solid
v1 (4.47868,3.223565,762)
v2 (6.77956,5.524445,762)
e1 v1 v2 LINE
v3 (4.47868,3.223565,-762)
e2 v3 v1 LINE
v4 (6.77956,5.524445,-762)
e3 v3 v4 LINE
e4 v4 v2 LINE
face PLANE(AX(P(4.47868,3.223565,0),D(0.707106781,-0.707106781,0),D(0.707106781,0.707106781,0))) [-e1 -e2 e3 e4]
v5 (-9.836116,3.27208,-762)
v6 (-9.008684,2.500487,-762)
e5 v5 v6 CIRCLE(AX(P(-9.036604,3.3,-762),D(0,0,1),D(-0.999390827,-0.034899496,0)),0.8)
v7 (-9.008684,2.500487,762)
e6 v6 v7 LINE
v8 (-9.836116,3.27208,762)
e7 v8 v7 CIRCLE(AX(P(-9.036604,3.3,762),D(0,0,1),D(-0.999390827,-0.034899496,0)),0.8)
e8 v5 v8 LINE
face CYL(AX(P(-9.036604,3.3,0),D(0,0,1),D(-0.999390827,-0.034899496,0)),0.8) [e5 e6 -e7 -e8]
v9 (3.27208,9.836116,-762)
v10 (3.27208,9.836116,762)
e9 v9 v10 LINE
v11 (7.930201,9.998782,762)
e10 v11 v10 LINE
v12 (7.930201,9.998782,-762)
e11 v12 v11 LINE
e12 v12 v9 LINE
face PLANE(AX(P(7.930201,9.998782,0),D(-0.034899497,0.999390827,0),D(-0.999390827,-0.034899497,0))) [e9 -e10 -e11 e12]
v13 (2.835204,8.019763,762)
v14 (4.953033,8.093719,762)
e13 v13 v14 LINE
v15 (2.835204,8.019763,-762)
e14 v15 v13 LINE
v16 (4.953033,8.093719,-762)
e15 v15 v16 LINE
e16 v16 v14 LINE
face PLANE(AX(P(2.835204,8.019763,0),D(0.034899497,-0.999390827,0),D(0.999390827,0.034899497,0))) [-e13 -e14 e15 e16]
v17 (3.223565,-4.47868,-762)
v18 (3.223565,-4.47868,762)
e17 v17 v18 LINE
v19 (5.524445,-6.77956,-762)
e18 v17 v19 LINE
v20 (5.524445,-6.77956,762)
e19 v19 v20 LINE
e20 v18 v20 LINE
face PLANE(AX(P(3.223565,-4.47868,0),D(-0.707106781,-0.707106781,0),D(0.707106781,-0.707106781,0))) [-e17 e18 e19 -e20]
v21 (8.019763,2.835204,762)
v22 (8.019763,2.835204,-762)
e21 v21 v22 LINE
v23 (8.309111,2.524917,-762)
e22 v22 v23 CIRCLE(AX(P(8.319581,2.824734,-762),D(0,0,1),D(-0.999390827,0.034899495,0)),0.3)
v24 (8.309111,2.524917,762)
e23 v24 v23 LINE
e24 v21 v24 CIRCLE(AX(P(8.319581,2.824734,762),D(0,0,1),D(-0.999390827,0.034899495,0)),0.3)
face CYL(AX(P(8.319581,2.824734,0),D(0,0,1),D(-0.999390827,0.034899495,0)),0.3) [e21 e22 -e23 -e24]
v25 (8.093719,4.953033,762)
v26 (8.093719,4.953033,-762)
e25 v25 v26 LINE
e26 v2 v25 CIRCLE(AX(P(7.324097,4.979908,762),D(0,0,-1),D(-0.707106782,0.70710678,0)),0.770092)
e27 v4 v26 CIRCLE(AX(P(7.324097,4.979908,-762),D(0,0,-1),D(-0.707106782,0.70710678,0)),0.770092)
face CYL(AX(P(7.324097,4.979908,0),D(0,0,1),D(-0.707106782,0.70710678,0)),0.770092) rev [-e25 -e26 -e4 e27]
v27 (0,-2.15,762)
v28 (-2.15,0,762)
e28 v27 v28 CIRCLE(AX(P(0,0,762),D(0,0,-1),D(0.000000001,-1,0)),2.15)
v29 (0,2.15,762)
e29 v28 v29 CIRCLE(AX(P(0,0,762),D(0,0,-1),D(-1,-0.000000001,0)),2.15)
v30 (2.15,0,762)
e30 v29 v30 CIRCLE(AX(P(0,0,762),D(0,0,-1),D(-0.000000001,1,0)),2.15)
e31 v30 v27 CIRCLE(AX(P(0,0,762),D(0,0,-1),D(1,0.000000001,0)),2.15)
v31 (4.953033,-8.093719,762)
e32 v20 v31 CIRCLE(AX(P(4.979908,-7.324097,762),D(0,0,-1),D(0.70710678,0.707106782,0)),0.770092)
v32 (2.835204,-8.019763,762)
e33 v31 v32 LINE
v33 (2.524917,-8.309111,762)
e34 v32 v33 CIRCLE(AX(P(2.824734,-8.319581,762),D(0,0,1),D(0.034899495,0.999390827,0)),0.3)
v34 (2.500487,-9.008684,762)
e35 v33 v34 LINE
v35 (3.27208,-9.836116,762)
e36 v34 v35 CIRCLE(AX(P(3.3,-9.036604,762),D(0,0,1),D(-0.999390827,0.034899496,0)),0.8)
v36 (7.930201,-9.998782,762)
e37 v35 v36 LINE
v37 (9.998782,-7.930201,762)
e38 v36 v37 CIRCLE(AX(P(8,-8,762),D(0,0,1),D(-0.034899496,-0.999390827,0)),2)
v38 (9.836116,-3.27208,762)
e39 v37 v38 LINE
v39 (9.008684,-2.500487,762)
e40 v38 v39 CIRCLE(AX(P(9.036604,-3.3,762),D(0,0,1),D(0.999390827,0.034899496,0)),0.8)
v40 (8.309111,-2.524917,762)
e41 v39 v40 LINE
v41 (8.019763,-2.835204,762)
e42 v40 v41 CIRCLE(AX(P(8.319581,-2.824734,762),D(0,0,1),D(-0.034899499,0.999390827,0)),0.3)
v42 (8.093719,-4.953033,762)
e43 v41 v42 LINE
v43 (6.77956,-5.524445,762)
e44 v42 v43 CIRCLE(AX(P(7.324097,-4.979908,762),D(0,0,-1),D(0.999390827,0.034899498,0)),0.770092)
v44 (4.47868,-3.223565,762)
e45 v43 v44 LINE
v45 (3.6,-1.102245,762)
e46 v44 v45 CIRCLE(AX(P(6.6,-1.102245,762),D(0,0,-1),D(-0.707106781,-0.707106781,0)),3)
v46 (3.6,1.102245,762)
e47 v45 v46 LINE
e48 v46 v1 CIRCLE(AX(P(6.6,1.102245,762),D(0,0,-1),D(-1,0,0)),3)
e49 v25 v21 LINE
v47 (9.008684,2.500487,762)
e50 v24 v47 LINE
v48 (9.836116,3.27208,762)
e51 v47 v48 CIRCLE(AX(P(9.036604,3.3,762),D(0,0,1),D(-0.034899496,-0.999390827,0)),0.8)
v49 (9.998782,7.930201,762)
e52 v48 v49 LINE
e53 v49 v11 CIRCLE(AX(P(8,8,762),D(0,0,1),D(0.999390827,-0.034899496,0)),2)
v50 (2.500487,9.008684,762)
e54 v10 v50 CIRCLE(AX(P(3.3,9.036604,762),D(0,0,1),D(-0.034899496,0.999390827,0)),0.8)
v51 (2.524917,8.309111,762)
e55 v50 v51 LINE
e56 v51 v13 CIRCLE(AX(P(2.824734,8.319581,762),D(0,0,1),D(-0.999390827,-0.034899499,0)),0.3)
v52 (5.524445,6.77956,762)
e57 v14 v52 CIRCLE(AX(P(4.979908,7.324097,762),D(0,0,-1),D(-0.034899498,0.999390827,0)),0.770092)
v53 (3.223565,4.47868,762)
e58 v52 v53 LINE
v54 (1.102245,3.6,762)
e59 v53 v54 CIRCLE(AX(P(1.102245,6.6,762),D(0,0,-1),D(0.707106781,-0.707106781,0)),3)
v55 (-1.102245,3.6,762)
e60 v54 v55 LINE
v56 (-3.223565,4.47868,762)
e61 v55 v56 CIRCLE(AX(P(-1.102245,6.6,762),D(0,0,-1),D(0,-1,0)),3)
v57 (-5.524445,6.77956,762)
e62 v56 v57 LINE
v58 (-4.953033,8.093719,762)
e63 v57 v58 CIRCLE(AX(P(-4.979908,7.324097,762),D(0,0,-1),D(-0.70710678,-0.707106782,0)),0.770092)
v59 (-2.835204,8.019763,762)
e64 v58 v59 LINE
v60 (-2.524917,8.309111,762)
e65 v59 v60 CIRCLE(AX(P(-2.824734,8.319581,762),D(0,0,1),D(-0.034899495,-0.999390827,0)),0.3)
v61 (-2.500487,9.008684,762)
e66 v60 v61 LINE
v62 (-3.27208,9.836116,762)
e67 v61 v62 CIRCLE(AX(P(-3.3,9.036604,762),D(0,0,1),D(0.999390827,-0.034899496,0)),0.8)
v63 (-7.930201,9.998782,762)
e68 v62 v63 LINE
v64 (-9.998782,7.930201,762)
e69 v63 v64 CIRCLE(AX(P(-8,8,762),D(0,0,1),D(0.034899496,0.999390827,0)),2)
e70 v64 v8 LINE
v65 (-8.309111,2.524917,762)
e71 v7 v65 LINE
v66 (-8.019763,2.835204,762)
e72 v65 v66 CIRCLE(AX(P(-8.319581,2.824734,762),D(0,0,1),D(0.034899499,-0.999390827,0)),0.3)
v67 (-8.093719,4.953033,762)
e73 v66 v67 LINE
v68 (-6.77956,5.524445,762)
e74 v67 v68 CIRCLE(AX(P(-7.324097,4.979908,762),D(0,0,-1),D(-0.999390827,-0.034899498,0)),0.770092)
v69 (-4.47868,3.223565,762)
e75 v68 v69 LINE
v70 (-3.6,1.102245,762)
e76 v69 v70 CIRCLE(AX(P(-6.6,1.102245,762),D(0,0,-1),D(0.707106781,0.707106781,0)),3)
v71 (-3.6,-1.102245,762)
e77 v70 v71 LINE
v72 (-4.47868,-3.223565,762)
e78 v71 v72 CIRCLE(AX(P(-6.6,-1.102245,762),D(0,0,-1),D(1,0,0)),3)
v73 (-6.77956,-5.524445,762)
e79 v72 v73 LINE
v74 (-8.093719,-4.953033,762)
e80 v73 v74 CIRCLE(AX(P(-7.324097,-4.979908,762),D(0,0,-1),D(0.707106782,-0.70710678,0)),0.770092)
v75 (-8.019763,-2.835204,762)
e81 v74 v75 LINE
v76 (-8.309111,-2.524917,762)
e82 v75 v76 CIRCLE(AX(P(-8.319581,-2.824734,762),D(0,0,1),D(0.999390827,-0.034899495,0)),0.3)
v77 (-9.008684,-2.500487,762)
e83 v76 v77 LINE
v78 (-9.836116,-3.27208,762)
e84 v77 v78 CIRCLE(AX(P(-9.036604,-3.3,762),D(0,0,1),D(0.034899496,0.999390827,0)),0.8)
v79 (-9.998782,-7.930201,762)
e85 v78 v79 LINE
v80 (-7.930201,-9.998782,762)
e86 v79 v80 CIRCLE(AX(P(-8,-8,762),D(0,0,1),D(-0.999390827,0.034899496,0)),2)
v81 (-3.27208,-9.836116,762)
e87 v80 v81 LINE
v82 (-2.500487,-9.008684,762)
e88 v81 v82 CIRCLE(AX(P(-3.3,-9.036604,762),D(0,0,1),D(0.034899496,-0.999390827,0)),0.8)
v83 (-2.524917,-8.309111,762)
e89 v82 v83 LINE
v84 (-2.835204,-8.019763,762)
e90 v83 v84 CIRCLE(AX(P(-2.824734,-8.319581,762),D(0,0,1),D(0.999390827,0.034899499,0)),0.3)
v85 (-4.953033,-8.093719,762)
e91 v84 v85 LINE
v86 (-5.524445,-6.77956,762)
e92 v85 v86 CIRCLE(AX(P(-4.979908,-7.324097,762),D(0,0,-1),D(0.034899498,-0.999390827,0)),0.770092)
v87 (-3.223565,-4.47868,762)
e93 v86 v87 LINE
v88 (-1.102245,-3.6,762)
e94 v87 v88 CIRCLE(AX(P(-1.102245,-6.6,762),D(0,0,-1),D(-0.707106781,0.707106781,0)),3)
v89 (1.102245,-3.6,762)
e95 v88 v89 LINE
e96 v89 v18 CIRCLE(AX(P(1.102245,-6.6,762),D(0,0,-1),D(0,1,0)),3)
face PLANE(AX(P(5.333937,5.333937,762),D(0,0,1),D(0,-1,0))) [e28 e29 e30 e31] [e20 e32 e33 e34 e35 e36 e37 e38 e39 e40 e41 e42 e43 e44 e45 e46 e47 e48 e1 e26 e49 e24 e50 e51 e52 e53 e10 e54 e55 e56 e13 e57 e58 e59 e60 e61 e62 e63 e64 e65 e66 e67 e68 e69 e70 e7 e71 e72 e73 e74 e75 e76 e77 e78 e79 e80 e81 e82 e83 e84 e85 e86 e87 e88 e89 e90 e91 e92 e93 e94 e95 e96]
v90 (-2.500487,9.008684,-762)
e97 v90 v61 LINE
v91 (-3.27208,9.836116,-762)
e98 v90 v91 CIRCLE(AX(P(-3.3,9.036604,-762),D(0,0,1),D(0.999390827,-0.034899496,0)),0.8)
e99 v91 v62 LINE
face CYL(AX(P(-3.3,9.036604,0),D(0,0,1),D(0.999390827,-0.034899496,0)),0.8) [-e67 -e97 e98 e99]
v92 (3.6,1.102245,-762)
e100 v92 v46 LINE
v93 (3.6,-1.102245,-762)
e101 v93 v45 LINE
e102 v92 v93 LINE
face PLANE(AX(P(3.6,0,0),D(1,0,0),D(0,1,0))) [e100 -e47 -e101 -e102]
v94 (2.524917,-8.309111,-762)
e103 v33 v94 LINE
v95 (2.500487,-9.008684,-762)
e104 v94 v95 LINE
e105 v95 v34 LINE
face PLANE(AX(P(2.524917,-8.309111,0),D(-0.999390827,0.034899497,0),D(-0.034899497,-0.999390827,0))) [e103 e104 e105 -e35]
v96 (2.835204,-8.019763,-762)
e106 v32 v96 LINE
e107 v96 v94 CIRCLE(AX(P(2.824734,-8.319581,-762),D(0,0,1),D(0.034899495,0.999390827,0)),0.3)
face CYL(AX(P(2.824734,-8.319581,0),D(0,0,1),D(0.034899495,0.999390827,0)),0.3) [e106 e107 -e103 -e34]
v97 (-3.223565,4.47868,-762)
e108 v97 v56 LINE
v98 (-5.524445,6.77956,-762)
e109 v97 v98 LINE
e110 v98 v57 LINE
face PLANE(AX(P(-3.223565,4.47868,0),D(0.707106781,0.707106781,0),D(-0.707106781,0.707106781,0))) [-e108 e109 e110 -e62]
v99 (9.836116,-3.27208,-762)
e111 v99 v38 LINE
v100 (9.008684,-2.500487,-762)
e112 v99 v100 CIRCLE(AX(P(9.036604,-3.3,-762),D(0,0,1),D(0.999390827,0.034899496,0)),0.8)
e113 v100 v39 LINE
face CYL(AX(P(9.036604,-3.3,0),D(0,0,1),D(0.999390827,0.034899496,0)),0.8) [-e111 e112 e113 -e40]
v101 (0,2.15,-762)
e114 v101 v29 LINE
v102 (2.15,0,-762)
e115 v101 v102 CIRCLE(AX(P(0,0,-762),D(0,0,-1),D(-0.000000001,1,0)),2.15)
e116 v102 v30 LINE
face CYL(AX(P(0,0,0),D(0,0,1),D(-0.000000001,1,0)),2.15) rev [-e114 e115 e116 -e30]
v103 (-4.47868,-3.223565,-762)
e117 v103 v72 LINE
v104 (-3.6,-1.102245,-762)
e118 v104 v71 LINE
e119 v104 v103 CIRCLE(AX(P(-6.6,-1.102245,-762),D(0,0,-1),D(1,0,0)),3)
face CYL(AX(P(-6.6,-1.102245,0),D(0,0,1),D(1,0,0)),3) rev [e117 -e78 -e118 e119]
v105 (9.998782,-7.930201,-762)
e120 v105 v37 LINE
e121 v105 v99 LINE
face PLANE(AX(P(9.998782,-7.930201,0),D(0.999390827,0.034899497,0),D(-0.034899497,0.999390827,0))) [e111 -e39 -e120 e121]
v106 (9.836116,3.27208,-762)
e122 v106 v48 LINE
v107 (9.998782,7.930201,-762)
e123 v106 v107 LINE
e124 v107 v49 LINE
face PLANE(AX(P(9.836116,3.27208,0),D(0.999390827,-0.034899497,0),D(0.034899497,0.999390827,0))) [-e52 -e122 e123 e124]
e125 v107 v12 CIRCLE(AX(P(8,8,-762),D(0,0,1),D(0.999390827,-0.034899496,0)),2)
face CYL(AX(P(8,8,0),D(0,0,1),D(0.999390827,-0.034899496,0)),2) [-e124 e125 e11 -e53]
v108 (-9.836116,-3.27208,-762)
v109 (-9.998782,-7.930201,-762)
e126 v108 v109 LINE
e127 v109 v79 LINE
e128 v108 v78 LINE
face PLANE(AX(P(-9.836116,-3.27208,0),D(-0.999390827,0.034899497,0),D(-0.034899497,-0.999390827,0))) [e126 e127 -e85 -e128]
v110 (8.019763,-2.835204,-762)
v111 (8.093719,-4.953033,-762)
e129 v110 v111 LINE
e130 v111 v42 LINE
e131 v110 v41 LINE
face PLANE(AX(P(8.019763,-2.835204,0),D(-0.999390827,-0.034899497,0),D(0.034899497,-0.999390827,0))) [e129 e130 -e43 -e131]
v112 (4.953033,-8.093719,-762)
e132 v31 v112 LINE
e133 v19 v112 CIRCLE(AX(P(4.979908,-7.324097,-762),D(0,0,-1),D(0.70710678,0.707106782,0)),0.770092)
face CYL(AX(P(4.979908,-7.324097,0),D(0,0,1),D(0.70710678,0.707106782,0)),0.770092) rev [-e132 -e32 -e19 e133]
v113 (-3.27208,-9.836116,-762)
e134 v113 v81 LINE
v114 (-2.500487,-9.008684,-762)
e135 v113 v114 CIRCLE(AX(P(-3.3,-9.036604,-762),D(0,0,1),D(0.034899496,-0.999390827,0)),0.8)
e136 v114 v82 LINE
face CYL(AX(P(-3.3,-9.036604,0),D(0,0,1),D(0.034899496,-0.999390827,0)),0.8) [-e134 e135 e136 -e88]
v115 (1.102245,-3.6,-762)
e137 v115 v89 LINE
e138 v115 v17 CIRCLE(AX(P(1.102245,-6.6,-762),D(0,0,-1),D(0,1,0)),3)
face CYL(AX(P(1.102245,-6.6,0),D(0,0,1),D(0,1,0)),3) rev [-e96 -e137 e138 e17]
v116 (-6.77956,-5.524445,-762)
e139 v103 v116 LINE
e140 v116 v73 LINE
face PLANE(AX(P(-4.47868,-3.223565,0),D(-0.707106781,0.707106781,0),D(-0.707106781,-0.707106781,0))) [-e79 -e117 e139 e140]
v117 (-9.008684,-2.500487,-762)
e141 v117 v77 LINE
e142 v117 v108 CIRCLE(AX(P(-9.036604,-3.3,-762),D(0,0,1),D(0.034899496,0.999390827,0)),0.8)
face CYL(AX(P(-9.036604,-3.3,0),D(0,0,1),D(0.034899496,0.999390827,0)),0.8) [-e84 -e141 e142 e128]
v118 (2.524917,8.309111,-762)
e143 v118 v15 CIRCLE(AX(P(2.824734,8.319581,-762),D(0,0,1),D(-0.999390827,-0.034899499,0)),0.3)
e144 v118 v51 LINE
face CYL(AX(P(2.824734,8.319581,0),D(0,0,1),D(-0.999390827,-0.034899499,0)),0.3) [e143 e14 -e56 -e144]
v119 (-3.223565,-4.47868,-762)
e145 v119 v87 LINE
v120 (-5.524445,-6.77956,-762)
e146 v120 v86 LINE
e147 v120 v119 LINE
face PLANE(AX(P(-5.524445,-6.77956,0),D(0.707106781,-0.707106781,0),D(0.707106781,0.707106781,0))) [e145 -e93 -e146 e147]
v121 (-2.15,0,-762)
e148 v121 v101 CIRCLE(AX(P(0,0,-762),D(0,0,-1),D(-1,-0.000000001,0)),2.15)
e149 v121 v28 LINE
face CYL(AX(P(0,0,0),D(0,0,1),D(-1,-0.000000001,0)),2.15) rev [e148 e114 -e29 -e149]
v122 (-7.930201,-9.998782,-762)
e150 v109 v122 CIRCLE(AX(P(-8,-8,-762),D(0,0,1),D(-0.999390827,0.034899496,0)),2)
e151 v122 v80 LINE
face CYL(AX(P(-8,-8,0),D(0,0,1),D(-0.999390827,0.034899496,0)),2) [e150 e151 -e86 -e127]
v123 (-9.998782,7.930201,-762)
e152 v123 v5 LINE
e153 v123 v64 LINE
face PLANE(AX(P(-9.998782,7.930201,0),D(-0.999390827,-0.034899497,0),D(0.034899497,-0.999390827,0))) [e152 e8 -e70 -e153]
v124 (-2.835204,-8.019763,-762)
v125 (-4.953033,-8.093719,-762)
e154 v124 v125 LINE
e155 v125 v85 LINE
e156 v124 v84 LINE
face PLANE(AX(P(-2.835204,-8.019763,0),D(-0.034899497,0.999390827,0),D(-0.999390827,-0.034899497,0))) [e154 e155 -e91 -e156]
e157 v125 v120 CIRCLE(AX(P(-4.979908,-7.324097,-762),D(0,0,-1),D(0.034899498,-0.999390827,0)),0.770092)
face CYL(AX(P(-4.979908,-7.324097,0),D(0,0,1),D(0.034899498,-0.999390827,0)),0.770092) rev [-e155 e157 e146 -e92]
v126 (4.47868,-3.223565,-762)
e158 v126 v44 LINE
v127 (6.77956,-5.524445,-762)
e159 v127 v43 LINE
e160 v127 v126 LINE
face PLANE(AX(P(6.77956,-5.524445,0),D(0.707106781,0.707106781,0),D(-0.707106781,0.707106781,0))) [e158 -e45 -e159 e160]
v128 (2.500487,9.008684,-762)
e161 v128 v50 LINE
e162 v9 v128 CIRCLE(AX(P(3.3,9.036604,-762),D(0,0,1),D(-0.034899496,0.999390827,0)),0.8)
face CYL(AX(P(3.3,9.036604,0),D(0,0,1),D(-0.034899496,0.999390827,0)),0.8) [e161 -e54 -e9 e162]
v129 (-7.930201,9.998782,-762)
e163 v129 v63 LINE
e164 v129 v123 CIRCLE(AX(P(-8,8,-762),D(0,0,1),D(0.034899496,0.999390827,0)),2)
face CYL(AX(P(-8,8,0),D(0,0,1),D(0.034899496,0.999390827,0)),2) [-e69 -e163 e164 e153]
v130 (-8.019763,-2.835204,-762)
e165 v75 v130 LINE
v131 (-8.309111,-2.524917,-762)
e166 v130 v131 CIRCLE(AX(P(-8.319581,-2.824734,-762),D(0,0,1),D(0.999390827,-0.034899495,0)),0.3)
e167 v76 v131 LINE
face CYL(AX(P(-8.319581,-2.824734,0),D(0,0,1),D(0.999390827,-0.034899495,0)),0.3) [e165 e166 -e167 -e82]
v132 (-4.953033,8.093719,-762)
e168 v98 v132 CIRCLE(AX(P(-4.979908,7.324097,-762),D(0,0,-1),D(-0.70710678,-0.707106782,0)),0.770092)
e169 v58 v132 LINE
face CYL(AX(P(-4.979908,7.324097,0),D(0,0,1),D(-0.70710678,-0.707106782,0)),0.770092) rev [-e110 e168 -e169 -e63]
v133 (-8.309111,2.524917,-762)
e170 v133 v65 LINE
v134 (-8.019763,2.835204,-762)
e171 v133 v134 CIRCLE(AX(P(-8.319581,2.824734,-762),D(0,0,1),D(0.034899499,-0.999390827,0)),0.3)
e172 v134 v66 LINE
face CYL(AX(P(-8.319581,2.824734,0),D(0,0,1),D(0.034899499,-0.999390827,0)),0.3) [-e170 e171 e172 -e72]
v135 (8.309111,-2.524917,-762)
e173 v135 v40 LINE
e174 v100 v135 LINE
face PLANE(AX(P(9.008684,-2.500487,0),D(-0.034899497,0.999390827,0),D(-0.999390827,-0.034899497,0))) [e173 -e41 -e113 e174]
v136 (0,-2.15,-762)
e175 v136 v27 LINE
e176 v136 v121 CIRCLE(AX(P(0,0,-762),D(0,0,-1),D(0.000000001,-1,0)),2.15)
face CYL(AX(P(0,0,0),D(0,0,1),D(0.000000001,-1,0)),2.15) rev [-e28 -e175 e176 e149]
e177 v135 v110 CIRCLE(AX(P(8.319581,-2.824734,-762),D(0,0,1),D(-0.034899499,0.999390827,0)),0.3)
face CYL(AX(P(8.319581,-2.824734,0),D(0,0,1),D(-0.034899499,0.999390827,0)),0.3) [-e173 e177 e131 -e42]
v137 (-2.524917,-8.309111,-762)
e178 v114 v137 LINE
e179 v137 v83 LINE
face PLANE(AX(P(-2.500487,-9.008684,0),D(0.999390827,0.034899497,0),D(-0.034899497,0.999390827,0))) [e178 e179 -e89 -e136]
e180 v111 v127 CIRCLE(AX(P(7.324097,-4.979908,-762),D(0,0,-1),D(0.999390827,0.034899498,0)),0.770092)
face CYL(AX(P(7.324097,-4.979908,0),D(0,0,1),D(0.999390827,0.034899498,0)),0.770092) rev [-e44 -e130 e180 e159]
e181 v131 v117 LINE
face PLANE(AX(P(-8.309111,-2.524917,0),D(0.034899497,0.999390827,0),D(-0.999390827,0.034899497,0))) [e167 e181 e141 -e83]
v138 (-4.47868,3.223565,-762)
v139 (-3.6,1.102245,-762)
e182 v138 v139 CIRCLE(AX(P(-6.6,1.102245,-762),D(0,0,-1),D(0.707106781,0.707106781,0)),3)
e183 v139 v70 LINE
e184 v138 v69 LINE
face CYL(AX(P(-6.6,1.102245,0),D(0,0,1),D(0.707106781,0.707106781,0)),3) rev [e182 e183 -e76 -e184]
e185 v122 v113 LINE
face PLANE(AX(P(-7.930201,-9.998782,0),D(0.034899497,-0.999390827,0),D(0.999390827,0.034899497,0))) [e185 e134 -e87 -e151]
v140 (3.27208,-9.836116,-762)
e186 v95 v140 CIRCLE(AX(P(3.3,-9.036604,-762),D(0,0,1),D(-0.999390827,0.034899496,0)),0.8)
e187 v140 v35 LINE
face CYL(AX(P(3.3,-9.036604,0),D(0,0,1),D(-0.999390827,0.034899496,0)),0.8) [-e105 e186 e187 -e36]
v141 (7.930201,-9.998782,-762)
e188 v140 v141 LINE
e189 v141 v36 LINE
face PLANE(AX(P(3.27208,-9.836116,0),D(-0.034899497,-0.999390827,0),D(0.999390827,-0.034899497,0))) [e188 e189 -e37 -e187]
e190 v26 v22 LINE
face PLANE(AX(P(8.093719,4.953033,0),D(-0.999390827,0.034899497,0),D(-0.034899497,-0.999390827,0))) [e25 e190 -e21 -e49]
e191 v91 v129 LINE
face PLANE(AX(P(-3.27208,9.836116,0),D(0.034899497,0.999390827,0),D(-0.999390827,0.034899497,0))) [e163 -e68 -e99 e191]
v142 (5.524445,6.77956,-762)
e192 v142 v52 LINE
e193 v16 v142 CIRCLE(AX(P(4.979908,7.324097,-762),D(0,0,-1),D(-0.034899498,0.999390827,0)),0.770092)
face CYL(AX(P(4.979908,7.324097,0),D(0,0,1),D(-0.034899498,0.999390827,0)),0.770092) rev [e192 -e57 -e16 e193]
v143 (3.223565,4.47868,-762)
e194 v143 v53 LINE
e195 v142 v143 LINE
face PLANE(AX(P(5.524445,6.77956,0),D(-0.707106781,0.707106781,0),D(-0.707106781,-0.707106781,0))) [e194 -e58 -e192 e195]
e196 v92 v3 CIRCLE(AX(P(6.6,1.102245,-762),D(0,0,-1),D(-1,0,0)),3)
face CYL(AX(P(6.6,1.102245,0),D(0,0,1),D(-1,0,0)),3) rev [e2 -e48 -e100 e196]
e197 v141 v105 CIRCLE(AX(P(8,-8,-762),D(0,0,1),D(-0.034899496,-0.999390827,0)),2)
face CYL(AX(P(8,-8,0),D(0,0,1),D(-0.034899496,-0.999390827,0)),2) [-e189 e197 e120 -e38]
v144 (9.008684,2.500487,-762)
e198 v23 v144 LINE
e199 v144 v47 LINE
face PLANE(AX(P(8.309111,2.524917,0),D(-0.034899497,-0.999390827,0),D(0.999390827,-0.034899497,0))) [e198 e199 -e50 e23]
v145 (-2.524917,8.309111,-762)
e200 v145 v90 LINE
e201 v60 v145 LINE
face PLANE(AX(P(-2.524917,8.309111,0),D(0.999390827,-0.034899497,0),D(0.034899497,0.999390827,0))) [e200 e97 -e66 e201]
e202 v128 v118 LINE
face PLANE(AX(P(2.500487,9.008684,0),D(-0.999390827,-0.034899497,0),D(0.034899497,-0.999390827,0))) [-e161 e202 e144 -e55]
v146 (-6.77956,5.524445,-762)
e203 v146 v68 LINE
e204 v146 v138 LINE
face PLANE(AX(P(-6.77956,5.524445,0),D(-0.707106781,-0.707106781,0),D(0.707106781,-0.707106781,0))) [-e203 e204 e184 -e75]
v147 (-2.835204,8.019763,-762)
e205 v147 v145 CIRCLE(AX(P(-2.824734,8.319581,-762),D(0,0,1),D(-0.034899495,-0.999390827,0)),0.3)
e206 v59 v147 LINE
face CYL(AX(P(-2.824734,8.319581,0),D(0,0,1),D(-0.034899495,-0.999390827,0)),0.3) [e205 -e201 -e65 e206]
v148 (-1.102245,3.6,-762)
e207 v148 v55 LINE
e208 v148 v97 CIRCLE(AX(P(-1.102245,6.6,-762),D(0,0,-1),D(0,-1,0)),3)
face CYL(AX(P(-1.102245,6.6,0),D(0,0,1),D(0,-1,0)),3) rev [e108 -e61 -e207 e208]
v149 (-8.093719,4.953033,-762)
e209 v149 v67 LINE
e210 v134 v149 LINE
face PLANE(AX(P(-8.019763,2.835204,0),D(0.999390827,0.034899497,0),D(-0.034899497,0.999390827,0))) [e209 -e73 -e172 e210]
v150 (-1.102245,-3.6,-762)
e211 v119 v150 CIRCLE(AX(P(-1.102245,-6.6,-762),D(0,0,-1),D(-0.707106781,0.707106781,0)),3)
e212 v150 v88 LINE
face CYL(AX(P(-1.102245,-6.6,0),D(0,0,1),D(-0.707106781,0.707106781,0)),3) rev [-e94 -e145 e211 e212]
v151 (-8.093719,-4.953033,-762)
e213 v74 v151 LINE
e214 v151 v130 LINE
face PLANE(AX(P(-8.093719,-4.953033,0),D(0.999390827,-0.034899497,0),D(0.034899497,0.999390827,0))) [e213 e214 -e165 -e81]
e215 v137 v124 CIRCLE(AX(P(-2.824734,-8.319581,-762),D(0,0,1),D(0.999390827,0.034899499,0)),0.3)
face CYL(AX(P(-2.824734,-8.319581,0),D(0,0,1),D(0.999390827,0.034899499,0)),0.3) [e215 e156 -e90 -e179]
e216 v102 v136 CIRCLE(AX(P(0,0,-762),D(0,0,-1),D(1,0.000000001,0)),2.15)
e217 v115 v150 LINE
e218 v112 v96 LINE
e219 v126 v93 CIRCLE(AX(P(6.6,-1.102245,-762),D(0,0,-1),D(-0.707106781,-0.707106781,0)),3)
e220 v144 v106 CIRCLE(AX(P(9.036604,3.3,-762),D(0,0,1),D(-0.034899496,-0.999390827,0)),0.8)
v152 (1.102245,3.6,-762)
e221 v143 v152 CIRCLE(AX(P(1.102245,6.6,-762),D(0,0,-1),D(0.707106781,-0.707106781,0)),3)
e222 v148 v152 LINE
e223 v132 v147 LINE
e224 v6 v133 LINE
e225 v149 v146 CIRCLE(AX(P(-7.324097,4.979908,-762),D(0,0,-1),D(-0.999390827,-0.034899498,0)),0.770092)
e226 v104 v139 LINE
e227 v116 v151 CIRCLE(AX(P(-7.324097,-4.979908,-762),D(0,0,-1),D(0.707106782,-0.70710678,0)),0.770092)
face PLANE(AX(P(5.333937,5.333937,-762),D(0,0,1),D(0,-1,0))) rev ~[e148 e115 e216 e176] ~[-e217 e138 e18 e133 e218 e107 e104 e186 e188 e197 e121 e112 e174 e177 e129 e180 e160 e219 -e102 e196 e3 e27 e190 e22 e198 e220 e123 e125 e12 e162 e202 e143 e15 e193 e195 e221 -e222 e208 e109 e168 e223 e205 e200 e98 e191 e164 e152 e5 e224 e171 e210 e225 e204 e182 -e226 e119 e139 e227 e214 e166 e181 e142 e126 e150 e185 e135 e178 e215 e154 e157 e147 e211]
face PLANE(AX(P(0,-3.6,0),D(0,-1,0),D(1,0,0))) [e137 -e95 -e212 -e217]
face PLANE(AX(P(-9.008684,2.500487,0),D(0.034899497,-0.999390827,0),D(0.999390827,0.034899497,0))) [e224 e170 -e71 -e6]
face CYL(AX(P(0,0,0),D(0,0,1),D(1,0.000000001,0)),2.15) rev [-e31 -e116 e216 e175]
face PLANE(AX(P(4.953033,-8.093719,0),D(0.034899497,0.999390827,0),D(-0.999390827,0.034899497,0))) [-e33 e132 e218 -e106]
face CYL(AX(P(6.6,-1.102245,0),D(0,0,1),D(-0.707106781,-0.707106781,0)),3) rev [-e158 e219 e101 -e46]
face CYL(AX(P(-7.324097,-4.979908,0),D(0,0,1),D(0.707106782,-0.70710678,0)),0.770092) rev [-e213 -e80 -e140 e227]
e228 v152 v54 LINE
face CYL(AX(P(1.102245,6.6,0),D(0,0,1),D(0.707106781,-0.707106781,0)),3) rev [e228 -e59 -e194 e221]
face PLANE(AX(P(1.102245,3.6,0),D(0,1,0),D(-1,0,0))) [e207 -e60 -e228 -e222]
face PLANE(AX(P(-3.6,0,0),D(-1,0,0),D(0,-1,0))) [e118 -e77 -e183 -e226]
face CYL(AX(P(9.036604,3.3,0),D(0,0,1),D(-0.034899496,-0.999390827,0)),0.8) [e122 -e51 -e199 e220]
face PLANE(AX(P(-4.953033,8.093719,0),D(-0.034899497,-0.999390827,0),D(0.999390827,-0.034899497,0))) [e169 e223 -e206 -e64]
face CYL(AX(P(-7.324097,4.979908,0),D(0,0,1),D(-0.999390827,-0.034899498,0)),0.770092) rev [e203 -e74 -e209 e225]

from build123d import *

# Parameters (mm, degrees)
BOSS_EXTRUDE1_DEPTH = 762
CIRPATTERN1_COUNT   = 4


with BuildPart() as part:
    # Sketch3 → Boss-Extrude1 (new, symmetric)
    with BuildSketch(Plane.XY):
        with BuildLine():
            Line((-2.524916986, 8.30911066), (-2.500487338, 9.008684239))
            ThreePointArc((-2.500487338, 9.008684239), (-2.714917039, 9.582202525), (-3.272080403, 9.836116498))
            Line((-3.272080403, 9.836116498), (-7.930201007, 9.998781654))
            ThreePointArc((-7.930201007, 9.998781654), (-9.414213562, 9.414213562), (-9.998781654, 7.930201007))
            Line((-9.998781654, 7.930201007), (-9.836116498, 3.272080403))
            ThreePointArc((-9.836116498, 3.272080403), (-9.582202525, 2.714917039), (-9.008684239, 2.500487338))
            Line((-9.008684239, 2.500487338), (-8.30911066, 2.524916986))
            ThreePointArc((-8.30911066, 2.524916986), (-8.100174399, 2.620134726), (-8.019763261, 2.835204083))
            Line((-8.019763261, 2.835204083), (-8.093719461, 4.953032548))
            ThreePointArc((-8.093719461, 4.953032548), (-7.631170264, 5.686128657), (-6.779559917, 5.52444538))
            Line((-6.779559917, 5.52444538), (-4.478679656, 3.22356512))
            ThreePointArc((-4.478679656, 3.22356512), (-3.828361402, 2.250295073), (-3.6, 1.102244776))
            Line((-3.6, 1.102244776), (-3.6, 0))
            Line((-3.6, 0), (-2.15, 0))
            ThreePointArc((-2.15, 0), (-1.52027958, 1.52027958), (0, 2.15))
            Line((0, 2.15), (0, 3.6))
            Line((0, 3.6), (-1.102244776, 3.6))
            ThreePointArc((-1.102244776, 3.6), (-2.250295073, 3.828361402), (-3.22356512, 4.478679656))
            Line((-3.22356512, 4.478679656), (-5.52444538, 6.779559917))
            ThreePointArc((-5.52444538, 6.779559917), (-5.686128657, 7.631170264), (-4.953032548, 8.093719461))
            Line((-4.953032548, 8.093719461), (-2.835204083, 8.019763261))
            ThreePointArc((-2.835204083, 8.019763261), (-2.620134726, 8.100174399), (-2.524916986, 8.30911066))
        make_face()
    boss_extrude1 = extrude(amount=BOSS_EXTRUDE1_DEPTH, both=True)

    # CirPattern1: Boss-Extrude1 ×4 about axis
    cirpattern1_axis = Axis((0, 0, 0), (0, 0, 1))
    for i in range(1, CIRPATTERN1_COUNT):
        add(boss_extrude1.rotate(cirpattern1_axis, i * 360 / CIRPATTERN1_COUNT))


solid = part.part
